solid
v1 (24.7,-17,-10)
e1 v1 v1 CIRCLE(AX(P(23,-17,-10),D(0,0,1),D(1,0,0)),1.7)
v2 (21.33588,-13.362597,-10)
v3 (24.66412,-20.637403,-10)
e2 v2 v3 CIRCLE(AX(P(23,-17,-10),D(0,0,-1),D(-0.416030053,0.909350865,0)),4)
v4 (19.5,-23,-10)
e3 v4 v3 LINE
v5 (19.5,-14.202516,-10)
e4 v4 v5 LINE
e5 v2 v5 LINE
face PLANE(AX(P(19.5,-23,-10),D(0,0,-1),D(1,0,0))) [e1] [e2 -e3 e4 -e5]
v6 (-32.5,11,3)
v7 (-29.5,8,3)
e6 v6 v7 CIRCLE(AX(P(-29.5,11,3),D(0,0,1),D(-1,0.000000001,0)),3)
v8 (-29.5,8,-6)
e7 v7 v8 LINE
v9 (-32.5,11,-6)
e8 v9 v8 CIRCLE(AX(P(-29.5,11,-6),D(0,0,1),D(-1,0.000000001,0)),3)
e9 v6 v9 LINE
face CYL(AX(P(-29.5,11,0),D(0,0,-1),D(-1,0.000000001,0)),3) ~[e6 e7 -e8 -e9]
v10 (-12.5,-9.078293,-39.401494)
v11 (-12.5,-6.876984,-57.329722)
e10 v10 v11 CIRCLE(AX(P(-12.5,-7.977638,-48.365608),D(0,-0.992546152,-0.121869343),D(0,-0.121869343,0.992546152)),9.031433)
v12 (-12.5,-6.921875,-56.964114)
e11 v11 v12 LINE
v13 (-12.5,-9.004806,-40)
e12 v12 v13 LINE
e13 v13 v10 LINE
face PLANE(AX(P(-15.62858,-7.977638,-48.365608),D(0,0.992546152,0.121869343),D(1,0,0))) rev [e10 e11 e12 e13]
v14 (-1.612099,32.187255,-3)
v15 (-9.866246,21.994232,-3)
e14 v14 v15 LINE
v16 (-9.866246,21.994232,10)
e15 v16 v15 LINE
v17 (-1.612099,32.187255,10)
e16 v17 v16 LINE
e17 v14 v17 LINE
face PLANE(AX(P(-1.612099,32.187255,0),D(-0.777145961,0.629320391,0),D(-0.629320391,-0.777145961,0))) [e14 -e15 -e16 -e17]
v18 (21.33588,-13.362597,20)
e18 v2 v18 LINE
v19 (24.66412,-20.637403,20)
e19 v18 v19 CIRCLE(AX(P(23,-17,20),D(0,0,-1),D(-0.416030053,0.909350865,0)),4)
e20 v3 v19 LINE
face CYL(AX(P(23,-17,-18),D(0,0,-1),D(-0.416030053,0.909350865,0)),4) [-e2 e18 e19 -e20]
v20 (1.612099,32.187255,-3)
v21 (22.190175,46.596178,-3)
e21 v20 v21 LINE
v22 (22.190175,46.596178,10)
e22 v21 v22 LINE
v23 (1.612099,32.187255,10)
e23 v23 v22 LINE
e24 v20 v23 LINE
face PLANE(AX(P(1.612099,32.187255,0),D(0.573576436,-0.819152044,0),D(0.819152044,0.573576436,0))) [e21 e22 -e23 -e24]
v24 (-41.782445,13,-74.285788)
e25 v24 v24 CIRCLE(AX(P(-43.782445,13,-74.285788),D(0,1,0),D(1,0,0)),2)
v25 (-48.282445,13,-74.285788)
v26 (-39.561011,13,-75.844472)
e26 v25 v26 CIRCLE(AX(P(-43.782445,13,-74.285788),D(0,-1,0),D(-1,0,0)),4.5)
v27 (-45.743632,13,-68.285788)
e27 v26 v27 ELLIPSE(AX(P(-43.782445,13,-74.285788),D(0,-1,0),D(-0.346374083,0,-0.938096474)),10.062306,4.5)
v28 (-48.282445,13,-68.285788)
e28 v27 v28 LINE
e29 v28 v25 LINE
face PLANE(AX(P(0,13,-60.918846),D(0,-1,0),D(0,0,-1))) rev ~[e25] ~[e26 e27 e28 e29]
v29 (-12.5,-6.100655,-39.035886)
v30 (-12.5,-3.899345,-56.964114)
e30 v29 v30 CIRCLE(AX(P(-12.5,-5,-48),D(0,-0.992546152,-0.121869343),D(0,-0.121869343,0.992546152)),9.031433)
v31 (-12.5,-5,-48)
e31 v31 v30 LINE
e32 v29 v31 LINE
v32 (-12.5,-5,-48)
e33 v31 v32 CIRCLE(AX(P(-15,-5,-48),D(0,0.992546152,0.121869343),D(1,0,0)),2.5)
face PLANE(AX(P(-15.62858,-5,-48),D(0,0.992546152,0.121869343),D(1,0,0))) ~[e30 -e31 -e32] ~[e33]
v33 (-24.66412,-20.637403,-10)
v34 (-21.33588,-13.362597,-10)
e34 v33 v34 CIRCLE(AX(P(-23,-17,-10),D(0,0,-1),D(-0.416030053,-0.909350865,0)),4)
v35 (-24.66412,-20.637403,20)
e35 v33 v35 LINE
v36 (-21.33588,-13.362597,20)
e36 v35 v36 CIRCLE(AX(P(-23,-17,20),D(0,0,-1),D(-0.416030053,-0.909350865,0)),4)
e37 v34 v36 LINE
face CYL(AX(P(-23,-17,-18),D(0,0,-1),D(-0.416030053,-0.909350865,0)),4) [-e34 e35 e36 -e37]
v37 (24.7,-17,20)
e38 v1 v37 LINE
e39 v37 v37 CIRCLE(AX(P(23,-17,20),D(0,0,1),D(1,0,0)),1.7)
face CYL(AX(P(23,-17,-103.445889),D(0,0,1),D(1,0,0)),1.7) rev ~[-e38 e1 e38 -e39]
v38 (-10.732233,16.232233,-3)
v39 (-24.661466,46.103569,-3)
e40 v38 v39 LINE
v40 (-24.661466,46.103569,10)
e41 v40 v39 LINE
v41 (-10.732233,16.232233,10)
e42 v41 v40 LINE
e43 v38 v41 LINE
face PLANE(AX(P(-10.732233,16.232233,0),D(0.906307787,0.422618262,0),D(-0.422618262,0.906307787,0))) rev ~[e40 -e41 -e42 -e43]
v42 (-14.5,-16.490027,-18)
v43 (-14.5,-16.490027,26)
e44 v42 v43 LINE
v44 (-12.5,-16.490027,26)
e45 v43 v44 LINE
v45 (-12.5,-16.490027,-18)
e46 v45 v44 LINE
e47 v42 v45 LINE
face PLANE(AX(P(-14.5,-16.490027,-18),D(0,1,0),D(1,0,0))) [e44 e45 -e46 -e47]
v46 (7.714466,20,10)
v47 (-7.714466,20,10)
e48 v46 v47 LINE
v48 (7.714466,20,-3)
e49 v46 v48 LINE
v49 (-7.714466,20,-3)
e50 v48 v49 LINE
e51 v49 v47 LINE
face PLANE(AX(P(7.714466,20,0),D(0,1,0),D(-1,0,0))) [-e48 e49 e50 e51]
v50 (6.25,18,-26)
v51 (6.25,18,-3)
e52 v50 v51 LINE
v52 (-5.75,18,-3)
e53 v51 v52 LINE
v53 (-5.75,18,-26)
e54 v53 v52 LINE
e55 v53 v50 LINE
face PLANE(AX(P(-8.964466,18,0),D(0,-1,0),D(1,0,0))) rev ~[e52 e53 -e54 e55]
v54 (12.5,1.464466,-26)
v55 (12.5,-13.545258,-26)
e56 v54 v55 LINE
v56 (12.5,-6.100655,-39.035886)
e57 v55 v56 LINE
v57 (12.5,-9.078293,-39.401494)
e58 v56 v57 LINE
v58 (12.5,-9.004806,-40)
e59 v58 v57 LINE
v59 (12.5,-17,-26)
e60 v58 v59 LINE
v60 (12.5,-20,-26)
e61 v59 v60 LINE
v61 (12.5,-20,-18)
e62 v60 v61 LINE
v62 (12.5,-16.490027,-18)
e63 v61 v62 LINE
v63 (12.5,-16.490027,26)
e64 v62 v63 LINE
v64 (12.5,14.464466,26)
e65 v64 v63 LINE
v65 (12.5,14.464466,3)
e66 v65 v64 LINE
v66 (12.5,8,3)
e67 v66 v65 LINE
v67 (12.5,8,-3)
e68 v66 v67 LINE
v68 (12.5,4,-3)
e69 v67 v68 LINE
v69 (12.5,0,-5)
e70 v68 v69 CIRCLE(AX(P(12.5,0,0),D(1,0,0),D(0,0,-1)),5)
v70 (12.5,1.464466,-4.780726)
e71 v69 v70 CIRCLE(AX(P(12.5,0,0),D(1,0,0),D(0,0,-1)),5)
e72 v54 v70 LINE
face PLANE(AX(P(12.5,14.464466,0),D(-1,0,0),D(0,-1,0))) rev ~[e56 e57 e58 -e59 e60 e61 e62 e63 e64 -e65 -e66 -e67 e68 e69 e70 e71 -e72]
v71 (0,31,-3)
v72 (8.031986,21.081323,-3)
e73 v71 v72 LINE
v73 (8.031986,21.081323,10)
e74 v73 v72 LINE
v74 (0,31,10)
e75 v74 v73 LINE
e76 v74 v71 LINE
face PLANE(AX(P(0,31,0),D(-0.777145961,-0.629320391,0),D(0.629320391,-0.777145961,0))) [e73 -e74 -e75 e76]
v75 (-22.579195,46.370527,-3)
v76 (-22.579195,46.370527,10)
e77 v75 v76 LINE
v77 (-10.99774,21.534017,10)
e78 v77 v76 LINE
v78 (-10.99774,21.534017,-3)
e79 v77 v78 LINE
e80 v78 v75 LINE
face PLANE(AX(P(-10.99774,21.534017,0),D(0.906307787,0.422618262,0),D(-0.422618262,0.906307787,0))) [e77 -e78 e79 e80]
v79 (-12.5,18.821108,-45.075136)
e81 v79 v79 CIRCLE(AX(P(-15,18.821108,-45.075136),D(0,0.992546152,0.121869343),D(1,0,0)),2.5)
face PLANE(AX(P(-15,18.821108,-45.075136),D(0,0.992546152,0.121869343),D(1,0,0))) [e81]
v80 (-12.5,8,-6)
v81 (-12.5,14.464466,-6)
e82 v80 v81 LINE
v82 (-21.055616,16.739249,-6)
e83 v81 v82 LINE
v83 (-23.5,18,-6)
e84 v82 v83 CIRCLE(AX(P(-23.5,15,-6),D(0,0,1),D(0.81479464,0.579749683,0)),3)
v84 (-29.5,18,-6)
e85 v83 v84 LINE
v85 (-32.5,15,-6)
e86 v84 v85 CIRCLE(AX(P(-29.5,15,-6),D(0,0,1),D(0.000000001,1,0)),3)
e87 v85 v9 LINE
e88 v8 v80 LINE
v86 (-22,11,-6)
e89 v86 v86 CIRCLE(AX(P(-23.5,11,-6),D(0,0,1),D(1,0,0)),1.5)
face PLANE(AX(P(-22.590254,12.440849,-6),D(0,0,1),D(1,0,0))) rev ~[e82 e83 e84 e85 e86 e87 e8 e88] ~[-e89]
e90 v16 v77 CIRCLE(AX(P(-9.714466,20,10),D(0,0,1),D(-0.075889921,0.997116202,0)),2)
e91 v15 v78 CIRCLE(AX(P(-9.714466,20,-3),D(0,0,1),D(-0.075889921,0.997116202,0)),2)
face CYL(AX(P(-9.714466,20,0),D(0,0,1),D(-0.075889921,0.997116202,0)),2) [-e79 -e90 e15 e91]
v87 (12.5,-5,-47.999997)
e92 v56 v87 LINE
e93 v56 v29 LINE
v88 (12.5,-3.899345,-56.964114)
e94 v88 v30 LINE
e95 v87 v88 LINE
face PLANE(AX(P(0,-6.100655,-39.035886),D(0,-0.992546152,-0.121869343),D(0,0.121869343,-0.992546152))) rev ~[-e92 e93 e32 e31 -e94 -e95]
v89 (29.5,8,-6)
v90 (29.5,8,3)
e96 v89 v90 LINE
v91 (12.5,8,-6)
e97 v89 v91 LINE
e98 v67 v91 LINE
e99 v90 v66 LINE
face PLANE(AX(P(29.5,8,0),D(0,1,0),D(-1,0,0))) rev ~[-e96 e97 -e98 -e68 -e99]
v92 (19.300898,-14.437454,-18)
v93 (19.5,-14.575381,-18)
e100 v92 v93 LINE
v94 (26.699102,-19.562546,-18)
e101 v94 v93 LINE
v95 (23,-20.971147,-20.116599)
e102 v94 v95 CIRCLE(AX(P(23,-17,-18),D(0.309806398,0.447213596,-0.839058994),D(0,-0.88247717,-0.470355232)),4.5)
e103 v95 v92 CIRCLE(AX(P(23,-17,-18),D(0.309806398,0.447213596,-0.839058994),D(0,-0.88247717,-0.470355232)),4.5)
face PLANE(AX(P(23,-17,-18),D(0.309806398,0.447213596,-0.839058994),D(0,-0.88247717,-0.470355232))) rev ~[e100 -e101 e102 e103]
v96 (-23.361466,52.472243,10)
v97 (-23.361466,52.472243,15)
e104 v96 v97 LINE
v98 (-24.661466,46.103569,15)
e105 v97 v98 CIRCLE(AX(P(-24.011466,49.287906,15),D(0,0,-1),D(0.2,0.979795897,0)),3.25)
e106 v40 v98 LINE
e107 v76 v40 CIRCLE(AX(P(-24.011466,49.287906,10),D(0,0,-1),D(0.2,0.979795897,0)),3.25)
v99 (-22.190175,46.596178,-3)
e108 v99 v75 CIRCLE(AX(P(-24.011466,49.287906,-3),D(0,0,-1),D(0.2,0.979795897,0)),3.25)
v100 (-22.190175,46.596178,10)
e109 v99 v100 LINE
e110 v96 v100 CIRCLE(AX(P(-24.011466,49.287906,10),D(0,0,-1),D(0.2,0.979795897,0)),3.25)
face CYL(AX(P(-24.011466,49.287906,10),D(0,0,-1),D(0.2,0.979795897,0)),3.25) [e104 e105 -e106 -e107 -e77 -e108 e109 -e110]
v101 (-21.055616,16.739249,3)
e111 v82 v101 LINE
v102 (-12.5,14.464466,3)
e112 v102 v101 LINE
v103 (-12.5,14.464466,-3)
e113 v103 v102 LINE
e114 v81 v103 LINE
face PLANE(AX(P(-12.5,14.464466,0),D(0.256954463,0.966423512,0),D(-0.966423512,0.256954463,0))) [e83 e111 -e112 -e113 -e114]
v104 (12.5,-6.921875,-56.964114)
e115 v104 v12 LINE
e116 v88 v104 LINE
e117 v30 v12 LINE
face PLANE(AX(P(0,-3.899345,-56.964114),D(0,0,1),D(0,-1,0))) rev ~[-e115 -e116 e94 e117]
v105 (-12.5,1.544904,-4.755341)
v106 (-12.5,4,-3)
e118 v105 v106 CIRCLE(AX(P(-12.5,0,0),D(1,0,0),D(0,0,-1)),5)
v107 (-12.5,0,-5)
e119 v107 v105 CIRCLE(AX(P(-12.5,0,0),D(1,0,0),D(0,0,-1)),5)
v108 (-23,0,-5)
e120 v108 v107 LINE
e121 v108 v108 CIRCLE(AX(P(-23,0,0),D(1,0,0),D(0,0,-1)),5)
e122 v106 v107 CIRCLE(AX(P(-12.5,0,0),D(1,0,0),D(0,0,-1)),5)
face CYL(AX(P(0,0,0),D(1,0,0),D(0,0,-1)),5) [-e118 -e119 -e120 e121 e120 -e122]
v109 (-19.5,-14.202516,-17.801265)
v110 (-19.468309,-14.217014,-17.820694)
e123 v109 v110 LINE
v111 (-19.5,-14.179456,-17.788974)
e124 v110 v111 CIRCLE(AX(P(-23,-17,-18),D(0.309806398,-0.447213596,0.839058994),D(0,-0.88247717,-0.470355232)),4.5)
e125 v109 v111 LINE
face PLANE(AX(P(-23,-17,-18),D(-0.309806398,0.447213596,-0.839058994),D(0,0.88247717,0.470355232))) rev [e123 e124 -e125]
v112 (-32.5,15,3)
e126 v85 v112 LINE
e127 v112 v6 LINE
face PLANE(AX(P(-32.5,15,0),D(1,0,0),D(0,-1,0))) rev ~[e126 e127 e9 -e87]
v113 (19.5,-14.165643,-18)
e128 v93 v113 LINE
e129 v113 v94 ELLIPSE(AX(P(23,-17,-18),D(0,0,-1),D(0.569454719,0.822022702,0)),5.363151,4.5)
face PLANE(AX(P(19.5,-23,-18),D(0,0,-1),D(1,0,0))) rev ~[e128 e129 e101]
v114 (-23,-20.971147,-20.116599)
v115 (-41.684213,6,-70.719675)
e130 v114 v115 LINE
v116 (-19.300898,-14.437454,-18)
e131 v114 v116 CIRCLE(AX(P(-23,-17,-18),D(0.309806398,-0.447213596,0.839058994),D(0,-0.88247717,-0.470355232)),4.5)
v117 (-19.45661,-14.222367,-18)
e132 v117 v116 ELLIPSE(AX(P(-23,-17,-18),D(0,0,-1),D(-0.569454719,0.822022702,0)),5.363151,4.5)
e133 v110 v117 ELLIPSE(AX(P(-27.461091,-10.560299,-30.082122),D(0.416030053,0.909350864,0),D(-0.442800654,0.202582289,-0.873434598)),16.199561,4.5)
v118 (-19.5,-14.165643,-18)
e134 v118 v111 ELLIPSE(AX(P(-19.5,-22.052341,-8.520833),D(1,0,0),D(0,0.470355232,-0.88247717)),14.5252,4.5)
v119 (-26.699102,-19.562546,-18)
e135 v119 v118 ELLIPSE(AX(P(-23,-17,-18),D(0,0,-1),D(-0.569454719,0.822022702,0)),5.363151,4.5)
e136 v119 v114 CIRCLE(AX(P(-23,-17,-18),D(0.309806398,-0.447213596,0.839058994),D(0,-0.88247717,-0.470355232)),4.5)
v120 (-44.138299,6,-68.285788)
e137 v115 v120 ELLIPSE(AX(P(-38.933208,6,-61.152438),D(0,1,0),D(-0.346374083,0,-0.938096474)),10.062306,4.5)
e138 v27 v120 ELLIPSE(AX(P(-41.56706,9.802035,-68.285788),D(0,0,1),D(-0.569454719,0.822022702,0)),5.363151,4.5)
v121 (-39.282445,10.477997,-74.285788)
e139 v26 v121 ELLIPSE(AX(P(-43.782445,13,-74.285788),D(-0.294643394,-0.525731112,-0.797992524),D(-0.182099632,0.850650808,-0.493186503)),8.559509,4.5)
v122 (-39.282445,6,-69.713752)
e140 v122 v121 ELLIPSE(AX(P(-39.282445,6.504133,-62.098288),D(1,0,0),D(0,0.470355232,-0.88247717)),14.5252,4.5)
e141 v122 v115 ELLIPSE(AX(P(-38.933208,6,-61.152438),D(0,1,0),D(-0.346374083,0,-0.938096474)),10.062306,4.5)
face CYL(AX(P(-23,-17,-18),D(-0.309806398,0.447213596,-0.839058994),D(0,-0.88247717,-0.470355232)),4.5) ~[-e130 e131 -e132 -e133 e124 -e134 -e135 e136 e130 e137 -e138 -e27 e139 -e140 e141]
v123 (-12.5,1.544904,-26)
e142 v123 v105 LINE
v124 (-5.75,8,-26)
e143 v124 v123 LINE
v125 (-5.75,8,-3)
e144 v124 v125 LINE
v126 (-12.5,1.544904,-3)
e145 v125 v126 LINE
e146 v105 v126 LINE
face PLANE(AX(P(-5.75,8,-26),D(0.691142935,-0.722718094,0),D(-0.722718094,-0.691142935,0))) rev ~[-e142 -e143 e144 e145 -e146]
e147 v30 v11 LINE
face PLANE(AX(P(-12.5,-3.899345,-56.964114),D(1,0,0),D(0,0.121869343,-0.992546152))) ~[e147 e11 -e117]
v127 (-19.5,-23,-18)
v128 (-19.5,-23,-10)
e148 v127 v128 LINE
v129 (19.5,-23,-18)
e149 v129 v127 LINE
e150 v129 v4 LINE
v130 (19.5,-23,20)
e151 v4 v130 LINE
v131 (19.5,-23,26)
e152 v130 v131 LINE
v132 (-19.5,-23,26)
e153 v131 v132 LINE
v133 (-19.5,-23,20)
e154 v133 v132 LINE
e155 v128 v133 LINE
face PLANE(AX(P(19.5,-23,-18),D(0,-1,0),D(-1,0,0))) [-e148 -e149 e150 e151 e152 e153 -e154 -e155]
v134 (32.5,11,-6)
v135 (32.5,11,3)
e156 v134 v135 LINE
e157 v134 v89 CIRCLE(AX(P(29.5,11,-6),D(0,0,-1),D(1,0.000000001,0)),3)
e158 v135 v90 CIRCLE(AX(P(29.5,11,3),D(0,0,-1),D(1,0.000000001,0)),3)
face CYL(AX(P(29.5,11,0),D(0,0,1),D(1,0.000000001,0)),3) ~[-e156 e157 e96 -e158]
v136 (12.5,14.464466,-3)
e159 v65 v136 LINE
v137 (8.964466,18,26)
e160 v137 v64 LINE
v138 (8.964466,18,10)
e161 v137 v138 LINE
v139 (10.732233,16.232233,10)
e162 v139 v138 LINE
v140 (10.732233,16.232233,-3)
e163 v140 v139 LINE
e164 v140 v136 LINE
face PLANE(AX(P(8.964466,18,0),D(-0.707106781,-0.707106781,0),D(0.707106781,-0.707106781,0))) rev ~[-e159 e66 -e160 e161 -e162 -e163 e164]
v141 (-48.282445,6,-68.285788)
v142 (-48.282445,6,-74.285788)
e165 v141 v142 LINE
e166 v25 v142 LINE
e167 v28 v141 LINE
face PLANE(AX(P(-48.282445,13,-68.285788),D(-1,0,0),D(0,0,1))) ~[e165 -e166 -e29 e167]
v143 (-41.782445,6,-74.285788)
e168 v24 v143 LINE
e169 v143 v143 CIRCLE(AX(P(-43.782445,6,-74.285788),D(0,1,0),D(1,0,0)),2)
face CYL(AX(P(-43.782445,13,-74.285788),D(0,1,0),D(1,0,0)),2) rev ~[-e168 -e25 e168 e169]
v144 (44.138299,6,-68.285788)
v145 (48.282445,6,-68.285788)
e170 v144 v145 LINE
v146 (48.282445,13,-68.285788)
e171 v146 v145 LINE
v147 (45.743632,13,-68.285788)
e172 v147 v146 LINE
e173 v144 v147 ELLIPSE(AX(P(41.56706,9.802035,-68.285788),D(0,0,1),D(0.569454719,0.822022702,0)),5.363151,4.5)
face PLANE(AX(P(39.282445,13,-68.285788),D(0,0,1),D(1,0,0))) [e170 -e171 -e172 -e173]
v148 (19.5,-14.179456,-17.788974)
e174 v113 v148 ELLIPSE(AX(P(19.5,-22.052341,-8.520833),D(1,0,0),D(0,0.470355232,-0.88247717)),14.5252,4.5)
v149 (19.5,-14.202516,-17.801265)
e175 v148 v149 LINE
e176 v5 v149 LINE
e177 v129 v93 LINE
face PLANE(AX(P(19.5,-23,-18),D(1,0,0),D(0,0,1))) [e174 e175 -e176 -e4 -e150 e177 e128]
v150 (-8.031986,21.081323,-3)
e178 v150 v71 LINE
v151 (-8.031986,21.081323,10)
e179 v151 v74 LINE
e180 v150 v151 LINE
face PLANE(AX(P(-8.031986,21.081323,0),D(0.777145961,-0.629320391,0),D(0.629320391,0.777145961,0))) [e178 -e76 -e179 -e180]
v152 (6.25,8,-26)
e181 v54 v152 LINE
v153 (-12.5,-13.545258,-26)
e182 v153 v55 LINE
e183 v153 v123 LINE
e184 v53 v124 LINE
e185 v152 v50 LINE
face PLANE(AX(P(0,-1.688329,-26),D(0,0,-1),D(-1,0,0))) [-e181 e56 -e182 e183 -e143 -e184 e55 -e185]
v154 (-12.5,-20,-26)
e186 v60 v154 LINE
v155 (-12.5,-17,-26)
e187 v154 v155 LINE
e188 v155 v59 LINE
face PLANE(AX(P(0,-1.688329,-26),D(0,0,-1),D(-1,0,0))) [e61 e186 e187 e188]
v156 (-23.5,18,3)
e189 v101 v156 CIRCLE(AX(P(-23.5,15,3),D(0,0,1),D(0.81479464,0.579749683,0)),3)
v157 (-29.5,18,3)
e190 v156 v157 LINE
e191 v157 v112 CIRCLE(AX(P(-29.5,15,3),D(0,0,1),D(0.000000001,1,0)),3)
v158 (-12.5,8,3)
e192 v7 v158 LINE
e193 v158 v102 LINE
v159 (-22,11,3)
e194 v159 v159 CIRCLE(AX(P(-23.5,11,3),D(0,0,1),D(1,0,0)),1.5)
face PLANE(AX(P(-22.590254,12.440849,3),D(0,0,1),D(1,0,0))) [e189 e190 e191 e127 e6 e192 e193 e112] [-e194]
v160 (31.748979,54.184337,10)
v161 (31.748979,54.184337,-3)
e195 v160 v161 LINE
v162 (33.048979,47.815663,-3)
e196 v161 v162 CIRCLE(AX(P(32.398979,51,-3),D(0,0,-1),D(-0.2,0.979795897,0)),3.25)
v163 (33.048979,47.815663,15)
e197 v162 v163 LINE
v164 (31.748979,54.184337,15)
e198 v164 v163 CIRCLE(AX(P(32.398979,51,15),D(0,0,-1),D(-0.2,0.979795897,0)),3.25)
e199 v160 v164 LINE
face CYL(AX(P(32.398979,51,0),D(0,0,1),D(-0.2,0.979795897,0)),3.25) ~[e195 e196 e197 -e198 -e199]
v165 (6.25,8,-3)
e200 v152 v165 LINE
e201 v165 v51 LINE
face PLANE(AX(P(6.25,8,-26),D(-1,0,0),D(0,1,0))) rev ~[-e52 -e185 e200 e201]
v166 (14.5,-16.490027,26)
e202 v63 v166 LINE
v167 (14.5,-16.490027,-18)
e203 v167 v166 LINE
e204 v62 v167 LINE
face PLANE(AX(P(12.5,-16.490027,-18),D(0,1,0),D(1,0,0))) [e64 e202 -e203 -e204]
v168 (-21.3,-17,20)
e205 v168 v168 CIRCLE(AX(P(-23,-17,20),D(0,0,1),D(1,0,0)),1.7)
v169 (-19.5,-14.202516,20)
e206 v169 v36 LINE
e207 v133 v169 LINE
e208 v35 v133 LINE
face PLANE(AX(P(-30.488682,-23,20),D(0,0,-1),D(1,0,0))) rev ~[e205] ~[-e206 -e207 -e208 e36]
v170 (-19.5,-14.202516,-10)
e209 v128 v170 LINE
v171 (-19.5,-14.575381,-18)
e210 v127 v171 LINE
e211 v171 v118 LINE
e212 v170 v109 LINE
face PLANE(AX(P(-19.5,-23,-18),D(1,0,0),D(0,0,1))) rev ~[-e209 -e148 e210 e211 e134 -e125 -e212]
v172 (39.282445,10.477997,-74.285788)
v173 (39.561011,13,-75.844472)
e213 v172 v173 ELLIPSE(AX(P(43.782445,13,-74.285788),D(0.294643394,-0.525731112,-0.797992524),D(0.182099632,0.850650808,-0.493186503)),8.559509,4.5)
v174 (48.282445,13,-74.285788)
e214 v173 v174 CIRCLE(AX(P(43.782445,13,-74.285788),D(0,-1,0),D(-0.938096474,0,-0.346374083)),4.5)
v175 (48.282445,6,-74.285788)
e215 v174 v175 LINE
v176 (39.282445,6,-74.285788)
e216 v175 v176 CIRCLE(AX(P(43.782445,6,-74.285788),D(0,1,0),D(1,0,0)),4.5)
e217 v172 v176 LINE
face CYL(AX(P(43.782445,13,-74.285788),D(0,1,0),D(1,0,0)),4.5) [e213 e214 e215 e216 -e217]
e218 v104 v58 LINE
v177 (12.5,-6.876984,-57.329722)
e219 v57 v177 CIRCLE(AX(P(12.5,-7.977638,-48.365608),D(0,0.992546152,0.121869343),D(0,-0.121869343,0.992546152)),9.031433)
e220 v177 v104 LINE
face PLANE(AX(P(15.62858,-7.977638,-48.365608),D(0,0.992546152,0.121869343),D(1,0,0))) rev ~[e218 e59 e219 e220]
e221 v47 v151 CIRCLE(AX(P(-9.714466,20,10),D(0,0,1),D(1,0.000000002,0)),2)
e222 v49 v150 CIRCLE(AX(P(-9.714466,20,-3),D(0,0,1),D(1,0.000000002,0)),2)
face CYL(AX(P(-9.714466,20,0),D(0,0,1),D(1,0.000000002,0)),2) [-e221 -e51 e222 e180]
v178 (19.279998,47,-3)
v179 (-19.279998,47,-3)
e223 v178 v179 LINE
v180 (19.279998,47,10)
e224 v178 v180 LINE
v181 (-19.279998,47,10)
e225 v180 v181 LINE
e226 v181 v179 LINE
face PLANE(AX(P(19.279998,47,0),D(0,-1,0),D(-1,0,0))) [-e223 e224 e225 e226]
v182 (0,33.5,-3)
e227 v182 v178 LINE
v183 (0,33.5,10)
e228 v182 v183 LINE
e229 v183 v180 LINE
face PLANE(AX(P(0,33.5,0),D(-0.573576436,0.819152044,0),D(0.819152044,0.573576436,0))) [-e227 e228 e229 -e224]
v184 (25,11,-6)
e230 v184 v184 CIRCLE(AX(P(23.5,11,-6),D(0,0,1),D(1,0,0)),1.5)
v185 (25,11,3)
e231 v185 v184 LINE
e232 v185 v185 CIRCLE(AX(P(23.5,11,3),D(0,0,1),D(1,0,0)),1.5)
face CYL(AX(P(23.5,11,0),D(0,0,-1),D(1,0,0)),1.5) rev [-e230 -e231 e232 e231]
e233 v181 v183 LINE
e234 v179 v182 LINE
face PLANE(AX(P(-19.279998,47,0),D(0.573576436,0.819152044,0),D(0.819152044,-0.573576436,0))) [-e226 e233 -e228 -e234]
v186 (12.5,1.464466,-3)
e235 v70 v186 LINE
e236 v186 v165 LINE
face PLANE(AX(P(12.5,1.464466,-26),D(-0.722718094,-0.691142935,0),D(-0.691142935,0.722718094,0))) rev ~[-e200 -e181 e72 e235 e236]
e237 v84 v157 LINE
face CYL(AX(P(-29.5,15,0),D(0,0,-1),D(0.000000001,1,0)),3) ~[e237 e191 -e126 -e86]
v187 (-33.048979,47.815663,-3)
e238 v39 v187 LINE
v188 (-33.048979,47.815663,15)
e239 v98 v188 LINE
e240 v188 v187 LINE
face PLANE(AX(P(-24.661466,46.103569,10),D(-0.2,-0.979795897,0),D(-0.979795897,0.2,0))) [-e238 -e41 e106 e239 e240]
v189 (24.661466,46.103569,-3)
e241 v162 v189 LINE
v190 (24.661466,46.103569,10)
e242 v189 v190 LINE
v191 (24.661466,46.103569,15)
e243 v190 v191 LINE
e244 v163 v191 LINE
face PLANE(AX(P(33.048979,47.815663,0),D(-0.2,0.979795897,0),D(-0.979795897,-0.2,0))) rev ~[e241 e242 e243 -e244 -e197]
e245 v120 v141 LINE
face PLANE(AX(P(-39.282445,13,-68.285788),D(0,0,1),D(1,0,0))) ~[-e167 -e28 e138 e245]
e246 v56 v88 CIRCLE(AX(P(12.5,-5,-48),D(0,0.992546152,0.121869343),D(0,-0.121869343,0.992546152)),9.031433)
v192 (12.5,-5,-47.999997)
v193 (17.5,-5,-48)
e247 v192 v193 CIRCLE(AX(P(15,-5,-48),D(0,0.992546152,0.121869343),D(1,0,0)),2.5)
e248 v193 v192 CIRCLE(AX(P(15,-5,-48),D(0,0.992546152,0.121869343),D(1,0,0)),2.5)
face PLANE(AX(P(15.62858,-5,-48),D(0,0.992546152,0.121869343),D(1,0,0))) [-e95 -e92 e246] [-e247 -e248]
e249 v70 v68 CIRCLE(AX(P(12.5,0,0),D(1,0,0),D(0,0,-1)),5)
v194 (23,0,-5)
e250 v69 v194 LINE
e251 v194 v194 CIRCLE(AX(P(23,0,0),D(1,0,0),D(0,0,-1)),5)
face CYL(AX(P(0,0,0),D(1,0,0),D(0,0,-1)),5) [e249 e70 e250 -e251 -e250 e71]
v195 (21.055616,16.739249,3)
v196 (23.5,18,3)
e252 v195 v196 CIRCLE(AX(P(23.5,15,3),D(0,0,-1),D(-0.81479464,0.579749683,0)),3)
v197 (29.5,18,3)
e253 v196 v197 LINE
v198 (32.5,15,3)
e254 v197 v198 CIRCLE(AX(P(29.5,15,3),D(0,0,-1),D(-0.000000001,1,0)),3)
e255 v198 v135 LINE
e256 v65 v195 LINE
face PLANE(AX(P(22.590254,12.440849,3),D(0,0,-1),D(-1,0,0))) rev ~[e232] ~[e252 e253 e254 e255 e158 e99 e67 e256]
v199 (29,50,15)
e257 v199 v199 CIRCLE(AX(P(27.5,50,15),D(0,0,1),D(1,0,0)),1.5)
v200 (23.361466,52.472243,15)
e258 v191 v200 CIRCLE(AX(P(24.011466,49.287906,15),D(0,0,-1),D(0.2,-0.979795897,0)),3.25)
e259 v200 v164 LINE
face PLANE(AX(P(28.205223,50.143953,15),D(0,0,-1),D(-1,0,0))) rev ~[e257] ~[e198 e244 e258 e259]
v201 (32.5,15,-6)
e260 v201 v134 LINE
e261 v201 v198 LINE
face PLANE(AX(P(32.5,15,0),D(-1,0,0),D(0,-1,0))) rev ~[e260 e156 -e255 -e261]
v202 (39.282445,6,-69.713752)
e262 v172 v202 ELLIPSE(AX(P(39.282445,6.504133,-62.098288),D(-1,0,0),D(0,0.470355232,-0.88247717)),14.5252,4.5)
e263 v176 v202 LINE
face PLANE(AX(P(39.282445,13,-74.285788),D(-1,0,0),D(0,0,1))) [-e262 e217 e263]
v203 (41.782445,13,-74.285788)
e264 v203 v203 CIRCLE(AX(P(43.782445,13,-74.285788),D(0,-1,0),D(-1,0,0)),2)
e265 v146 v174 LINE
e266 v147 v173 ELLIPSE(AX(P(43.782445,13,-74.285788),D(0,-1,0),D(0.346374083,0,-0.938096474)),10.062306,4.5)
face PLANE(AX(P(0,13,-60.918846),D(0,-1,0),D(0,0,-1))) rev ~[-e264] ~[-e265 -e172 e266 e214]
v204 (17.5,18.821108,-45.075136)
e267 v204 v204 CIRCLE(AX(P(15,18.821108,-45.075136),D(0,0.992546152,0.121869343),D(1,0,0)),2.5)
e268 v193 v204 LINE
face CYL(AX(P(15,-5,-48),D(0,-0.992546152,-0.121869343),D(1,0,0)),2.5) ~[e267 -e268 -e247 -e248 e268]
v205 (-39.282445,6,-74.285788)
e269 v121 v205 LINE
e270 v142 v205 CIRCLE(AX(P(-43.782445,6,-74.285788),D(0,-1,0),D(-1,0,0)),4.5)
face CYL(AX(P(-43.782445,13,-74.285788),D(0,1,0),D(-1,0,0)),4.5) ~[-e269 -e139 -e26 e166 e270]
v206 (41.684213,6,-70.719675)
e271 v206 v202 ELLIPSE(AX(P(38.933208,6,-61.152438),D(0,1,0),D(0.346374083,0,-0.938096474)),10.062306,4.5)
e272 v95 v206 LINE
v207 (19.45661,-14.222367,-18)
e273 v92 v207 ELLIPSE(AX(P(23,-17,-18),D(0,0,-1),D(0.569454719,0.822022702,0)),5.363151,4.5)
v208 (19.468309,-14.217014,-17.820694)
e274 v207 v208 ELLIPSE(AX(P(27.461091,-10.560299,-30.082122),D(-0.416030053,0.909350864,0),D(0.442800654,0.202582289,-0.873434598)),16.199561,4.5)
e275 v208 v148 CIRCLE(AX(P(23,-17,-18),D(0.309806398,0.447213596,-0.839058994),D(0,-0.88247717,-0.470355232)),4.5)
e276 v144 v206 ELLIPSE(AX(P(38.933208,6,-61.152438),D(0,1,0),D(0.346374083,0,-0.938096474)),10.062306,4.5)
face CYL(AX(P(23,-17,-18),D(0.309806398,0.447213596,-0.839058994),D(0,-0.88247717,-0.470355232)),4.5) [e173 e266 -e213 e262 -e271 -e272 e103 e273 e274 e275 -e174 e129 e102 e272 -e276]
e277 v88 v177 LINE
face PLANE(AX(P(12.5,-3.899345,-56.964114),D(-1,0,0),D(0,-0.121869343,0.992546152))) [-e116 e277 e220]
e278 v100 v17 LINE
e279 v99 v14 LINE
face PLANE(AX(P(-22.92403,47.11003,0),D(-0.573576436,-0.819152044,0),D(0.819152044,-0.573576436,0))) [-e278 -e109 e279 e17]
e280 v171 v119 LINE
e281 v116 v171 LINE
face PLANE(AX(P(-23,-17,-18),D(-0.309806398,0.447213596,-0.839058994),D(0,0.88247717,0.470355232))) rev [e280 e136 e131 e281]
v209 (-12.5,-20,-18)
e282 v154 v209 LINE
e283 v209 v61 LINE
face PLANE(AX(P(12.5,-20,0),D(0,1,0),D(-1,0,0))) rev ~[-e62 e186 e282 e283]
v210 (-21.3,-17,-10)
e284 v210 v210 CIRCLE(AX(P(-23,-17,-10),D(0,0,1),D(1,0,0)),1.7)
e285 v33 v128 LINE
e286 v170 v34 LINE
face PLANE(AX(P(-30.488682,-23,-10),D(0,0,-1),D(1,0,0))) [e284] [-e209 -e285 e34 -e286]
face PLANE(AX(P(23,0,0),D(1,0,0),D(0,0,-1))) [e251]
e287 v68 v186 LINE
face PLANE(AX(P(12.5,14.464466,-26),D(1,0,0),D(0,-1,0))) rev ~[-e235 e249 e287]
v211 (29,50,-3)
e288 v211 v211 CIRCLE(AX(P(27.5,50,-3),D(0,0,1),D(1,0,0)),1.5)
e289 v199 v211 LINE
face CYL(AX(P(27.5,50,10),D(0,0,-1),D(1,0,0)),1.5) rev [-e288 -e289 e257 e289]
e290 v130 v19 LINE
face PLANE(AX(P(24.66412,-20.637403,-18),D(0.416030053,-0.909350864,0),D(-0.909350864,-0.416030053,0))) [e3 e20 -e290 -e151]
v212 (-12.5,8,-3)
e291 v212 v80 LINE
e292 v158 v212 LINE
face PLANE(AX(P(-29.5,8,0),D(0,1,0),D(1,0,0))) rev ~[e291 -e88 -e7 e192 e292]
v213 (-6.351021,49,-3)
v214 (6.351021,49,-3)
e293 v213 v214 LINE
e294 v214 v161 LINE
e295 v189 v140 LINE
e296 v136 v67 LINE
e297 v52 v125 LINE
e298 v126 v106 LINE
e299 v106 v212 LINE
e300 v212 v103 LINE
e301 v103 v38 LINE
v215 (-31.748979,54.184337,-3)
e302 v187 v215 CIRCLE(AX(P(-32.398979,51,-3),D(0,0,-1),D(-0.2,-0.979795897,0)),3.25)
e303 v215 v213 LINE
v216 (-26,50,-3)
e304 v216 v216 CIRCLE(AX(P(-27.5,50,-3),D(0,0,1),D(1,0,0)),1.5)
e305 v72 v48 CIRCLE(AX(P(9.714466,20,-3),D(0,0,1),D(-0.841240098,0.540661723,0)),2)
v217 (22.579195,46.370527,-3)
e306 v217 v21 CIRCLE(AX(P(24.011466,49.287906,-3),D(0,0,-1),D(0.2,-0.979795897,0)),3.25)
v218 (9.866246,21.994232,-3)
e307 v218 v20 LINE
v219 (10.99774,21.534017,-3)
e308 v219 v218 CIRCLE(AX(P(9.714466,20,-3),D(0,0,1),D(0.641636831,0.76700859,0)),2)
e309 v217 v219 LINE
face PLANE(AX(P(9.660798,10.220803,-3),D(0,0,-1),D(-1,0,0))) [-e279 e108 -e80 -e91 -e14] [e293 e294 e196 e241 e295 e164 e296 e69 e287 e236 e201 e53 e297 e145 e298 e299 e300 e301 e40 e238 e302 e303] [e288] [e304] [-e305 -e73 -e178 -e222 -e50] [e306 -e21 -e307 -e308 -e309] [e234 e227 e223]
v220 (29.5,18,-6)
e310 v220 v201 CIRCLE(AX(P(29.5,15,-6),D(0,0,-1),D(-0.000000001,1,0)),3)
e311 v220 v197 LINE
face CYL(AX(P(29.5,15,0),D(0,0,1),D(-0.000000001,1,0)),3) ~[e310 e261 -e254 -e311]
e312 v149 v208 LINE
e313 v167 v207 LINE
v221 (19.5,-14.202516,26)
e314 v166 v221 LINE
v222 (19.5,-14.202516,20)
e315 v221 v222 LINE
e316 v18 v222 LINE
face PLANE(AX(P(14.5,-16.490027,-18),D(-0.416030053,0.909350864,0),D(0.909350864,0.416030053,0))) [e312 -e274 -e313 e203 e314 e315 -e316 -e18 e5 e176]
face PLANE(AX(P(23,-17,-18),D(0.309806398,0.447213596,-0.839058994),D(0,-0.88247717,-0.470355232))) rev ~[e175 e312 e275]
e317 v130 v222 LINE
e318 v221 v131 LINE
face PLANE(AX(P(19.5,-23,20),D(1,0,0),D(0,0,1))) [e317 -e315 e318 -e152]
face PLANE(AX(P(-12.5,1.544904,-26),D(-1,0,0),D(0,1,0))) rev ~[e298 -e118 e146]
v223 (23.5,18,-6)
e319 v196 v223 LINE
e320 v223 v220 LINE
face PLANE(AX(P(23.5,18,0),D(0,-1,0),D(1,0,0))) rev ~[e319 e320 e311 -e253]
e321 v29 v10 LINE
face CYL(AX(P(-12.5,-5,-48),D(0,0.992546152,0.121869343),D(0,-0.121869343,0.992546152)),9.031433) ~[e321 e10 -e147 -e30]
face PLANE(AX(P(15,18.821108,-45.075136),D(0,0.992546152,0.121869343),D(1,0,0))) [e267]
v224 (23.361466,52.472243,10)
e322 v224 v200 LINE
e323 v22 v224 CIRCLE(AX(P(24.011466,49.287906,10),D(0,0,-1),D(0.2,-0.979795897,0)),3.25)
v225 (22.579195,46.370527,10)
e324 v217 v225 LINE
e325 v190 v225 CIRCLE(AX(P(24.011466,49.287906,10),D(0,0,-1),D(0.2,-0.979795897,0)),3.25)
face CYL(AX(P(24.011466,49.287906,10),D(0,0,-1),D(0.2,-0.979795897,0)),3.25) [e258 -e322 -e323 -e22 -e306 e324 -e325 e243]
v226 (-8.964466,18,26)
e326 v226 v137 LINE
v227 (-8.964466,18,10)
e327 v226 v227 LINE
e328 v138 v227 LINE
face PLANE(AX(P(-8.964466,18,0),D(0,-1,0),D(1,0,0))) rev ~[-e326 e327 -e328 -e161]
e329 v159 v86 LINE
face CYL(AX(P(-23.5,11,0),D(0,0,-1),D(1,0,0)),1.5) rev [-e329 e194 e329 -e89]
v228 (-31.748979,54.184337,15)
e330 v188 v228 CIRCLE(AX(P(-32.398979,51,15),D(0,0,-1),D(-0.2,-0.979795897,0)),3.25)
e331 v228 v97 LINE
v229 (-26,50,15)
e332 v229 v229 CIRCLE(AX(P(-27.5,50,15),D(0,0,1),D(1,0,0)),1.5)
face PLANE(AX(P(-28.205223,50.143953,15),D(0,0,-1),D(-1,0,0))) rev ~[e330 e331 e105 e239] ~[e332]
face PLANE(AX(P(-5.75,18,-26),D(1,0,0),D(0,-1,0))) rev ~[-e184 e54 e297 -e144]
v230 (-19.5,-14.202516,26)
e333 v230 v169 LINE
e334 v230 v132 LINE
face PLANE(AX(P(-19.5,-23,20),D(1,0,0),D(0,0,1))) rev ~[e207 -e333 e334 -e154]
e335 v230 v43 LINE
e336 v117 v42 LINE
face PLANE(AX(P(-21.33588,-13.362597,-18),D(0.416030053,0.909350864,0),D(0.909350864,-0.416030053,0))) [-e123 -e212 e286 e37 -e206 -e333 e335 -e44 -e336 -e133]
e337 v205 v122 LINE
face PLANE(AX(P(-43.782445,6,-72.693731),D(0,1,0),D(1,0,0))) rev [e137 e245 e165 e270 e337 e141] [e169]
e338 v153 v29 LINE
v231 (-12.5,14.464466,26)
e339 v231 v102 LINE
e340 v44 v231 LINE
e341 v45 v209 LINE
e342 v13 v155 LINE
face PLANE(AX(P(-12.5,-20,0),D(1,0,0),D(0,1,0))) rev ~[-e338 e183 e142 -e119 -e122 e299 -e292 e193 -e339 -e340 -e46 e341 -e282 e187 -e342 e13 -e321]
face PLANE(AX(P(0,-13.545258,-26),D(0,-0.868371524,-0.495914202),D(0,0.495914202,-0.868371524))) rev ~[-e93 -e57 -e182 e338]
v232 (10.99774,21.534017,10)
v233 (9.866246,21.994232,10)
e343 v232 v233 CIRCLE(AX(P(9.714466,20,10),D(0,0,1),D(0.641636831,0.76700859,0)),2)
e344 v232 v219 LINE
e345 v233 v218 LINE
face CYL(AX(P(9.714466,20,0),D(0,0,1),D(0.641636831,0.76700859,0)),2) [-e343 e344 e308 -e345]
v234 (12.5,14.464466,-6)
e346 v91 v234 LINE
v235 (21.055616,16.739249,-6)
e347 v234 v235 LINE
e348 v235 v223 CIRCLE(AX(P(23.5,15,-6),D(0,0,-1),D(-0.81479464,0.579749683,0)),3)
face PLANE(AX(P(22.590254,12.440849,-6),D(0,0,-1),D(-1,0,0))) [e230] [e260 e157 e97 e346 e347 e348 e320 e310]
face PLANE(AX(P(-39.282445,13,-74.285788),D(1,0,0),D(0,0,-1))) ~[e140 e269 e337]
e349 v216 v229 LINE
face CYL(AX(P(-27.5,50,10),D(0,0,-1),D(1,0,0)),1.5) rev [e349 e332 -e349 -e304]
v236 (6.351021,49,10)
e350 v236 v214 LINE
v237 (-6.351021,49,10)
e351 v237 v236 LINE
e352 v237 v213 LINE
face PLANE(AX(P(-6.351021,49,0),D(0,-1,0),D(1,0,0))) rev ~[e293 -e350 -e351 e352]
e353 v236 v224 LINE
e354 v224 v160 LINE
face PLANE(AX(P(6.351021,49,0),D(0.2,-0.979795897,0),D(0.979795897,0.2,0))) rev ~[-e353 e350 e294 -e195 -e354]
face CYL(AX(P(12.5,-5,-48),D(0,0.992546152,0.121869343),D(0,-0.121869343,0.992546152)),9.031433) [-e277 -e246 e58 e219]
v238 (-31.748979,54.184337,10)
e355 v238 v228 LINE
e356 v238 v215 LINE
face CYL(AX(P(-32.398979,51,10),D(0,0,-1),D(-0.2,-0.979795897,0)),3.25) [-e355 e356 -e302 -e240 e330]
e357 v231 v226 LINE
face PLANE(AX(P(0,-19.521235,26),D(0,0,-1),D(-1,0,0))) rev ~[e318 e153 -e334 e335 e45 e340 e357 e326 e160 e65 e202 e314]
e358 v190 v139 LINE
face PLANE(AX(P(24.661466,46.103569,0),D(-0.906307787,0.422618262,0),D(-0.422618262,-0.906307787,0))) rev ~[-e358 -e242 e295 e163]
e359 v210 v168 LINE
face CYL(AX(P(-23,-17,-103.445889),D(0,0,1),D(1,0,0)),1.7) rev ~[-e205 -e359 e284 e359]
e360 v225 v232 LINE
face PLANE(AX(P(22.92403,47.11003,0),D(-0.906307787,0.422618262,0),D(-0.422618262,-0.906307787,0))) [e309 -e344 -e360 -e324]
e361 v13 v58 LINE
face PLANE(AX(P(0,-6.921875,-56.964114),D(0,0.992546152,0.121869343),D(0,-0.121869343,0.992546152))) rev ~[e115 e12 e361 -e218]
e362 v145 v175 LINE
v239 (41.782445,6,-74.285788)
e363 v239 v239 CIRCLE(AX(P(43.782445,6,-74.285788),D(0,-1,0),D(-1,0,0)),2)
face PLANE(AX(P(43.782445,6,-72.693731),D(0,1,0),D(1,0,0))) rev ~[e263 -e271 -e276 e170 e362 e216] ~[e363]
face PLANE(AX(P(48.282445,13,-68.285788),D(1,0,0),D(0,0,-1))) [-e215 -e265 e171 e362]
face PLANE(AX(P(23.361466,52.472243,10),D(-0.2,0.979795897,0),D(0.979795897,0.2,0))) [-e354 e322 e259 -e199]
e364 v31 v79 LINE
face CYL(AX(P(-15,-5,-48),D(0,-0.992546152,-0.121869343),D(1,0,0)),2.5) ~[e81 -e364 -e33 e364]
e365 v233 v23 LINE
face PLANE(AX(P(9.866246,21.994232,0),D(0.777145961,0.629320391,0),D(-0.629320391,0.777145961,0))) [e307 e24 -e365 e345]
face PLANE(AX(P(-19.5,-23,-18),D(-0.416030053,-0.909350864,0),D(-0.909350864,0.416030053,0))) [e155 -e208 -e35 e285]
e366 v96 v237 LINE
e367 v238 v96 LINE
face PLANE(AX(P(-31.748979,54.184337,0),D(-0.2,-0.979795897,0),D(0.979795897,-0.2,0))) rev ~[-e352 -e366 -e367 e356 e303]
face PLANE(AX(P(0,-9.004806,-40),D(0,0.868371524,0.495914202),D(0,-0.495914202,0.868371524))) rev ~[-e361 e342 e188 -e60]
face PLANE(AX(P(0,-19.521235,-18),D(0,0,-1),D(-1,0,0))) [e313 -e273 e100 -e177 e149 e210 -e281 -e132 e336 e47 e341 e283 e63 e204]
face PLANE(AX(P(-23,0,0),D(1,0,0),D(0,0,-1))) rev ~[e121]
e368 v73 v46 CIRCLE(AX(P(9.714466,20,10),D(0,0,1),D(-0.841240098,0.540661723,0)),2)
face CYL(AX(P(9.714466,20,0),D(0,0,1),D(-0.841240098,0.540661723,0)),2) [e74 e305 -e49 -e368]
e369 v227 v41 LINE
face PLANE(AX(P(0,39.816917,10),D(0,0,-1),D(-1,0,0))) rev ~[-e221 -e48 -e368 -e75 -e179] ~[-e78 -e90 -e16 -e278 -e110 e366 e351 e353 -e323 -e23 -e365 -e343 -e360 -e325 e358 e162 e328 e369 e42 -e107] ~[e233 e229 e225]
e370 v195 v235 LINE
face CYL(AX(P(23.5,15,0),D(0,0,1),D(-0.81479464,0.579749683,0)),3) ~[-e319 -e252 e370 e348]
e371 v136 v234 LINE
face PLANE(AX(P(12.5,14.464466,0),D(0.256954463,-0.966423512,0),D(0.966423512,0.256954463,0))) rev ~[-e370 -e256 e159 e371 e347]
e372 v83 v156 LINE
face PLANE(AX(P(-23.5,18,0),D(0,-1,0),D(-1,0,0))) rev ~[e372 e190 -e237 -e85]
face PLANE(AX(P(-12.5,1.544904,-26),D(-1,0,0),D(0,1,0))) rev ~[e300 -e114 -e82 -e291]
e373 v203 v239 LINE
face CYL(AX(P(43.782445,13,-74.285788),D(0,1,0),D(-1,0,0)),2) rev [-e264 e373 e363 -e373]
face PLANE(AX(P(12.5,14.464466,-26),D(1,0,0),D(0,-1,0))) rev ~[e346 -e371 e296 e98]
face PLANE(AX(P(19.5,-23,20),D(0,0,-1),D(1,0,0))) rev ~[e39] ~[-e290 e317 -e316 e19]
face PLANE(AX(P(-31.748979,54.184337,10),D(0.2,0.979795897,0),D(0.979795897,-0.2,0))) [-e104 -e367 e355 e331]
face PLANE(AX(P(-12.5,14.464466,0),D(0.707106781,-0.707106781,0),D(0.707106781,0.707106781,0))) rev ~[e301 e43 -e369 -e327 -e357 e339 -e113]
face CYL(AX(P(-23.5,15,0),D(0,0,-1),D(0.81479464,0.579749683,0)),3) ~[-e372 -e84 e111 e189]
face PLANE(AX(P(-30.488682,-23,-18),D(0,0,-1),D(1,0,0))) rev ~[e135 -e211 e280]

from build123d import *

# Parameters (mm, degrees)
SKETCH1_R                    = 5
DRIVELINE_AXIS_DEPTH         = 23
DUMMY_BOSS_DEPTH             = 26
PIN_BASE_DEPTH               = 44
PIN_HOLES_D                  = 3.4
SKETCH8_R                    = 1.5
UPRIGHTS_DEPTH               = 10
UPRIGHTS_DEPTH_BACK          = 3
SKETCH9_R                    = 1.5
SHOCK_MOUNT_DEPTH            = 5
SHOCK_MOUNT_DEPTH_BACK       = 13
SKETCH10_R                   = 1.5
TURNBUCKLE_MOUNTS_DEPTH      = 3
TURNBUCKLE_MOUNTS_DEPTH_BACK = 6
TURNBUCKLE_ROOM_DEPTH        = 1
TURNBUCKLE_ROOM_DEPTH_BACK   = 23
ARM_PROFILE_R                = 4.5
CHASSIS_MOUNT_DEPTH          = 7
SKETCH29_W                   = 17.866942734
SKETCH29_H                   = 5.34009454
TRIM_DEPTH                   = 50
SKETCH30_R                   = 2
CHASSIS_HOLES_DEPTH          = 7
BOSS_EXTRUDE2_DEPTH          = 12.5
BOSS_EXTRUDE3_DEPTH          = 3
SKETCH43_R                   = 2.5
BOSS_EXTRUDE4_DEPTH          = 24
SKETCH45_W                   = 10.988682225
SKETCH45_H                   = 8
CUT_EXTRUDE5_DEPTH           = 14


with BuildPart() as part:
    # Sketch1 → Driveline Axis (new body, symmetric)
    with BuildSketch(Plane(origin=(0, 0, 0), x_dir=(0, 0, -1), z_dir=(1, 0, 0))):
        Circle(SKETCH1_R)
    extrude(amount=DRIVELINE_AXIS_DEPTH, both=True)

    # Sketch2 → Dummy Boss (add, symmetric)
    with BuildSketch(Plane.XY):
        Polygon((-12.5, -20), (-12.5, 14.464466094), (-8.964466094, 18), (8.964466094, 18), (12.5, 14.464466094), (12.5, -20), align=None)
    extrude(amount=DUMMY_BOSS_DEPTH, both=True)

    # Sketch3 → Pin Base (add)
    with BuildSketch(Plane(origin=(0, 0, -18), x_dir=(-1, 0, 0), z_dir=(0, 0, -1))):
        with BuildLine():
            Line((-19.5, -23), (19.5, -23))
            Line((19.5, -23), (24.664120213, -20.637403458))
            ThreePointArc((24.664120213, -20.637403458), (26.637403458, -15.335879787), (21.335879787, -13.362596542))
            Line((21.335879787, -13.362596542), (14.5, -16.490026826))
            Line((14.5, -16.490026826), (12.5, -16.490026826))
            Line((12.5, -16.490026826), (12.5, -20))
            Line((12.5, -20), (-12.5, -20))
            Line((-12.5, -20), (-12.5, -16.490026826))
            Line((-12.5, -16.490026826), (-14.5, -16.490026826))
            Line((-14.5, -16.490026826), (-21.335879787, -13.362596542))
            ThreePointArc((-21.335879787, -13.362596542), (-26.637403458, -15.335879787), (-24.664120213, -20.637403458))
            Line((-24.664120213, -20.637403458), (-19.5, -23))
        make_face()
    extrude(amount=-PIN_BASE_DEPTH)

    # Pin Holes (through all)
    with Locations(Plane(origin=(0, 0, -18), x_dir=(-1, 0, 0), z_dir=(0, 0, -1))):
        with Locations((-23, -17), (23, -17)):
            Hole(PIN_HOLES_D / 2)

    # Sketch8 → Uprights (add, two sides)
    with BuildSketch(Plane.XY) as uprights_sk:
        with BuildLine():
            Line((-10.732233047, 16.232233047), (-24.661465898, 46.103569293))
            Line((-24.661465898, 46.103569293), (-33.048979486, 47.815663334))
            ThreePointArc((-33.048979486, 47.815663334), (-35.583316151, 51.65), (-31.748979486, 54.184336666))
            Line((-31.748979486, 54.184336666), (-6.351020514, 49))
            Line((-6.351020514, 49), (6.351020514, 49))
            Line((6.351020514, 49), (31.748979486, 54.184336666))
            ThreePointArc((31.748979486, 54.184336666), (35.583316151, 51.65), (33.048979486, 47.815663334))
            Line((33.048979486, 47.815663334), (24.661465898, 46.103569293))
            Line((24.661465898, 46.103569293), (10.732233047, 16.232233047))
            Line((10.732233047, 16.232233047), (8.964466094, 18))
            Line((8.964466094, 18), (-8.964466094, 18))
            Line((-8.964466094, 18), (-10.732233047, 16.232233047))
        make_face()
        with Locations((-27.5, 50)):
            Circle(SKETCH8_R, mode=Mode.SUBTRACT)
        with Locations((27.5, 50)):
            Circle(SKETCH8_R, mode=Mode.SUBTRACT)
        with BuildLine():
            Line((9.866245938, 21.994232403), (1.612099151, 32.1872548))
            Line((1.612099151, 32.1872548), (22.924030195, 47.110029571))
            Line((22.924030195, 47.110029571), (10.997739753, 21.534017182))
            ThreePointArc((10.997739753, 21.534017182), (10.467987263, 21.852621345), (9.866245938, 21.994232403))
        make_face(mode=Mode.SUBTRACT)
        with BuildLine():
            Line((7.714466094, 20), (-7.714466094, 20))
            ThreePointArc((-7.714466094, 20), (-7.795487149, 20.563488959), (-8.031985901, 21.081323449))
            Line((-8.031985901, 21.081323449), (0, 31))
            Line((0, 31), (8.031985901, 21.081323449))
            ThreePointArc((8.031985901, 21.081323449), (7.795487149, 20.563488959), (7.714466094, 20))
        make_face(mode=Mode.SUBTRACT)
        with BuildLine():
            Line((-10.997739753, 21.534017182), (-22.924030195, 47.110029571))
            Line((-22.924030195, 47.110029571), (-1.612099151, 32.1872548))
            Line((-1.612099151, 32.1872548), (-9.866245938, 21.994232403))
            ThreePointArc((-9.866245938, 21.994232403), (-10.467987263, 21.852621345), (-10.997739753, 21.534017182))
        make_face(mode=Mode.SUBTRACT)
        Polygon((-19.279998091, 47), (0, 33.5), (19.279998091, 47), align=None, mode=Mode.SUBTRACT)
    extrude(amount=UPRIGHTS_DEPTH)
    extrude(uprights_sk.sketch, amount=-UPRIGHTS_DEPTH_BACK)

    # Sketch9 → Shock Mount (add, two sides)
    with BuildSketch(Plane.XY.offset(10)) as shock_mount_sk:
        with BuildLine():
            Line((-24.661465898, 46.103569293), (-33.048979486, 47.815663334))
            ThreePointArc((-33.048979486, 47.815663334), (-35.583316151, 51.65), (-31.748979486, 54.184336666))
            Line((-31.748979486, 54.184336666), (-23.361465898, 52.472242624))
            ThreePointArc((-23.361465898, 52.472242624), (-20.827129232, 48.637905958), (-24.661465898, 46.103569293))
        make_face()
        with Locations((-27.5, 50)):
            Circle(SKETCH9_R, mode=Mode.SUBTRACT)
        with BuildLine():
            Line((23.361465898, 52.472242624), (31.748979486, 54.184336666))
            ThreePointArc((31.748979486, 54.184336666), (35.583316151, 51.65), (33.048979486, 47.815663334))
            Line((33.048979486, 47.815663334), (24.661465898, 46.103569293))
            ThreePointArc((24.661465898, 46.103569293), (20.827129232, 48.637905958), (23.361465898, 52.472242624))
        make_face()
        with Locations((27.5, 50)):
            Circle(SKETCH9_R, mode=Mode.SUBTRACT)
    extrude(amount=SHOCK_MOUNT_DEPTH)
    extrude(shock_mount_sk.sketch, amount=-SHOCK_MOUNT_DEPTH_BACK)

    # Sketch10 → Turnbuckle Mounts (add, two sides)
    with BuildSketch(Plane.XY) as turnbuckle_mounts_sk:
        with BuildLine():
            Line((29.5, 8), (12.5, 8))
            Line((12.5, 8), (12.5, 14.464466094))
            Line((12.5, 14.464466094), (21.055616084, 16.739249053))
            ThreePointArc((21.055616084, 16.739249053), (22.124817677, 17.666247097), (23.5, 18))
            Line((23.5, 18), (29.5, 18))
            ThreePointArc((29.5, 18), (31.621320344, 17.121320344), (32.5, 15))
            Line((32.5, 15), (32.5, 11))
            ThreePointArc((32.5, 11), (31.621320344, 8.878679656), (29.5, 8))
        make_face()
        with Locations((23.5, 11)):
            Circle(SKETCH10_R, mode=Mode.SUBTRACT)
        with BuildLine():
            Line((-12.5, 14.464466094), (-21.055616084, 16.739249053))
            ThreePointArc((-21.055616084, 16.739249053), (-22.124817677, 17.666247097), (-23.5, 18))
            Line((-23.5, 18), (-29.5, 18))
            ThreePointArc((-29.5, 18), (-31.621320344, 17.121320344), (-32.5, 15))
            Line((-32.5, 15), (-32.5, 11))
            ThreePointArc((-32.5, 11), (-31.621320344, 8.878679656), (-29.5, 8))
            Line((-29.5, 8), (-12.5, 8))
            Line((-12.5, 8), (-12.5, 14.464466094))
        make_face()
        with Locations((-23.5, 11)):
            Circle(SKETCH10_R, mode=Mode.SUBTRACT)
    extrude(amount=TURNBUCKLE_MOUNTS_DEPTH)
    extrude(turnbuckle_mounts_sk.sketch, amount=-TURNBUCKLE_MOUNTS_DEPTH_BACK)

    # Sketch11 → Turnbuckle Room (cut, two sides)
    with BuildSketch(Plane(origin=(0, 0, -26), x_dir=(-1, 0, 0), z_dir=(0, 0, -1))) as turnbuckle_room_sk:
        Polygon((8.964466094, 18), (5.75, 18), (5.75, 8), (12.5, 1.544903812), (12.5, 14.464466094), align=None)
        Polygon((-12.5, 14.464466094), (-12.5, 1.464466094), (-6.25, 8), (-6.25, 18), (-8.964466094, 18), align=None)
    extrude(amount=TURNBUCKLE_ROOM_DEPTH, mode=Mode.SUBTRACT)
    extrude(turnbuckle_room_sk.sketch, amount=-TURNBUCKLE_ROOM_DEPTH_BACK, mode=Mode.SUBTRACT)

    # Arm: sweep along a path in Sketch13
    with BuildLine(Plane(origin=(14.391793376, 0, 5.313892939), x_dir=(0.346374083, 0, -0.938096474), z_dir=(0.938096474, 0, 0.346374083))) as arm_path:
        Line((24.852340438, -17), (84.852340438, 13))
    # Arm profile (on start of the path) → Arm (sweep)
    with BuildSketch(Plane(origin=(23, -17, -18), x_dir=(0, -0.88247717, -0.470355232), z_dir=(0.309806398, 0.447213595, -0.839058994))):
        Circle(ARM_PROFILE_R)
    arm = sweep(path=arm_path.line)

    # Mirror1: Arm across plane
    add(arm.mirror(Plane(origin=(0, 0, 0), x_dir=(0, 0, 1), z_dir=(1, 0, 0))))

    # Sketch28 → Chassis mount (add)
    with BuildSketch(Plane(origin=(0, 13, 0), x_dir=(-1, 0, 0), z_dir=(0, -1, 0))):
        with BuildLine():
            Line((-39.282444966, 74.285788448), (-39.282444966, 68.285788448))
            Line((-39.282444966, 68.285788448), (-48.282444966, 68.285788448))
            Line((-48.282444966, 68.285788448), (-48.282444966, 74.285788448))
            ThreePointArc((-48.282444966, 74.285788448), (-43.782444966, 78.785788448), (-39.282444966, 74.285788448))
        make_face()
    chassis_mount = extrude(amount=CHASSIS_MOUNT_DEPTH)

    # Mirror2: Chassis mount across plane
    add(chassis_mount.mirror(Plane(origin=(0, 0, 0), x_dir=(0, 0, 1), z_dir=(1, 0, 0))))

    # Sketch29 → Trim (cut, symmetric)
    with BuildSketch(Plane(origin=(0, 0, 0), x_dir=(0, 0, -1), z_dir=(1, 0, 0))):
        with Locations((69.852317081, 15.67004727)):
            Rectangle(SKETCH29_W, SKETCH29_H)
    extrude(amount=TRIM_DEPTH, both=True, mode=Mode.SUBTRACT)

    # Sketch30 → Chassis Holes (cut)
    with BuildSketch(Plane(origin=(0, 13, 0), x_dir=(-1, 0, 0), z_dir=(0, -1, 0))):
        with Locations((-43.782444966, 74.285788448)):
            Circle(SKETCH30_R)
    chassis_holes = extrude(amount=CHASSIS_HOLES_DEPTH, mode=Mode.SUBTRACT)

    # Mirror3: Chassis Holes across plane
    add(chassis_holes.mirror(Plane(origin=(0, 0, 0), x_dir=(0, 0, 1), z_dir=(1, 0, 0))), mode=Mode.SUBTRACT)

    # Sketch40 → Boss-Extrude2 (add, symmetric)
    with BuildSketch(Plane(origin=(0, 0, 0), x_dir=(0, 0, -1), z_dir=(1, 0, 0))):
        Polygon((26, -13.545257512), (39.035885991, -6.100654803), (56.964114009, -3.899345197), (56.964114009, -6.921874674), (40, -9.004805964), (26, -17), align=None)
    extrude(amount=BOSS_EXTRUDE2_DEPTH, both=True)

    # Sketch41 → Boss-Extrude3 (add)
    with BuildSketch(Plane(origin=(0, -10.73186481, -1.317707308), x_dir=(1, 0, 0), z_dir=(0, 0.992546152, 0.121869343))):
        with BuildLine():
            Line((12.5, 56.064301503), (12.5, 38.001435621))
            ThreePointArc((12.5, 38.001435621), (21.531432941, 47.032868562), (12.5, 56.064301503))
        make_face()
    boss_extrude3 = extrude(amount=-BOSS_EXTRUDE3_DEPTH)

    # Mirror4: Boss-Extrude3 across plane
    add(boss_extrude3.mirror(Plane(origin=(0, 0, 0), x_dir=(0, 0, 1), z_dir=(1, 0, 0))))

    # Sketch43 → Boss-Extrude4 (add)
    with BuildSketch(Plane(origin=(0, -10.73186481, -1.317707308), x_dir=(1, 0, 0), z_dir=(0, 0.992546152, 0.121869343))):
        with Locations((-15, 47.032868562)):
            Circle(SKETCH43_R)
        with Locations((15, 47.032868562)):
            Circle(SKETCH43_R)
    extrude(amount=BOSS_EXTRUDE4_DEPTH)

    # Sketch45 → Cut-Extrude5 (cut)
    with BuildSketch(Plane.XZ.offset(23)):
        with Locations((24.994341113, -14)):
            Rectangle(SKETCH45_W, SKETCH45_H)
        with Locations((24.994341113, 24)):
            Rectangle(SKETCH45_W, SKETCH45_H)
        with Locations((-24.994341113, 24)):
            Rectangle(SKETCH45_W, SKETCH45_H)
        with Locations((-24.994341113, -14)):
            Rectangle(SKETCH45_W, SKETCH45_H)
    extrude(amount=-CUT_EXTRUDE5_DEPTH, mode=Mode.SUBTRACT)


solid = part.part
